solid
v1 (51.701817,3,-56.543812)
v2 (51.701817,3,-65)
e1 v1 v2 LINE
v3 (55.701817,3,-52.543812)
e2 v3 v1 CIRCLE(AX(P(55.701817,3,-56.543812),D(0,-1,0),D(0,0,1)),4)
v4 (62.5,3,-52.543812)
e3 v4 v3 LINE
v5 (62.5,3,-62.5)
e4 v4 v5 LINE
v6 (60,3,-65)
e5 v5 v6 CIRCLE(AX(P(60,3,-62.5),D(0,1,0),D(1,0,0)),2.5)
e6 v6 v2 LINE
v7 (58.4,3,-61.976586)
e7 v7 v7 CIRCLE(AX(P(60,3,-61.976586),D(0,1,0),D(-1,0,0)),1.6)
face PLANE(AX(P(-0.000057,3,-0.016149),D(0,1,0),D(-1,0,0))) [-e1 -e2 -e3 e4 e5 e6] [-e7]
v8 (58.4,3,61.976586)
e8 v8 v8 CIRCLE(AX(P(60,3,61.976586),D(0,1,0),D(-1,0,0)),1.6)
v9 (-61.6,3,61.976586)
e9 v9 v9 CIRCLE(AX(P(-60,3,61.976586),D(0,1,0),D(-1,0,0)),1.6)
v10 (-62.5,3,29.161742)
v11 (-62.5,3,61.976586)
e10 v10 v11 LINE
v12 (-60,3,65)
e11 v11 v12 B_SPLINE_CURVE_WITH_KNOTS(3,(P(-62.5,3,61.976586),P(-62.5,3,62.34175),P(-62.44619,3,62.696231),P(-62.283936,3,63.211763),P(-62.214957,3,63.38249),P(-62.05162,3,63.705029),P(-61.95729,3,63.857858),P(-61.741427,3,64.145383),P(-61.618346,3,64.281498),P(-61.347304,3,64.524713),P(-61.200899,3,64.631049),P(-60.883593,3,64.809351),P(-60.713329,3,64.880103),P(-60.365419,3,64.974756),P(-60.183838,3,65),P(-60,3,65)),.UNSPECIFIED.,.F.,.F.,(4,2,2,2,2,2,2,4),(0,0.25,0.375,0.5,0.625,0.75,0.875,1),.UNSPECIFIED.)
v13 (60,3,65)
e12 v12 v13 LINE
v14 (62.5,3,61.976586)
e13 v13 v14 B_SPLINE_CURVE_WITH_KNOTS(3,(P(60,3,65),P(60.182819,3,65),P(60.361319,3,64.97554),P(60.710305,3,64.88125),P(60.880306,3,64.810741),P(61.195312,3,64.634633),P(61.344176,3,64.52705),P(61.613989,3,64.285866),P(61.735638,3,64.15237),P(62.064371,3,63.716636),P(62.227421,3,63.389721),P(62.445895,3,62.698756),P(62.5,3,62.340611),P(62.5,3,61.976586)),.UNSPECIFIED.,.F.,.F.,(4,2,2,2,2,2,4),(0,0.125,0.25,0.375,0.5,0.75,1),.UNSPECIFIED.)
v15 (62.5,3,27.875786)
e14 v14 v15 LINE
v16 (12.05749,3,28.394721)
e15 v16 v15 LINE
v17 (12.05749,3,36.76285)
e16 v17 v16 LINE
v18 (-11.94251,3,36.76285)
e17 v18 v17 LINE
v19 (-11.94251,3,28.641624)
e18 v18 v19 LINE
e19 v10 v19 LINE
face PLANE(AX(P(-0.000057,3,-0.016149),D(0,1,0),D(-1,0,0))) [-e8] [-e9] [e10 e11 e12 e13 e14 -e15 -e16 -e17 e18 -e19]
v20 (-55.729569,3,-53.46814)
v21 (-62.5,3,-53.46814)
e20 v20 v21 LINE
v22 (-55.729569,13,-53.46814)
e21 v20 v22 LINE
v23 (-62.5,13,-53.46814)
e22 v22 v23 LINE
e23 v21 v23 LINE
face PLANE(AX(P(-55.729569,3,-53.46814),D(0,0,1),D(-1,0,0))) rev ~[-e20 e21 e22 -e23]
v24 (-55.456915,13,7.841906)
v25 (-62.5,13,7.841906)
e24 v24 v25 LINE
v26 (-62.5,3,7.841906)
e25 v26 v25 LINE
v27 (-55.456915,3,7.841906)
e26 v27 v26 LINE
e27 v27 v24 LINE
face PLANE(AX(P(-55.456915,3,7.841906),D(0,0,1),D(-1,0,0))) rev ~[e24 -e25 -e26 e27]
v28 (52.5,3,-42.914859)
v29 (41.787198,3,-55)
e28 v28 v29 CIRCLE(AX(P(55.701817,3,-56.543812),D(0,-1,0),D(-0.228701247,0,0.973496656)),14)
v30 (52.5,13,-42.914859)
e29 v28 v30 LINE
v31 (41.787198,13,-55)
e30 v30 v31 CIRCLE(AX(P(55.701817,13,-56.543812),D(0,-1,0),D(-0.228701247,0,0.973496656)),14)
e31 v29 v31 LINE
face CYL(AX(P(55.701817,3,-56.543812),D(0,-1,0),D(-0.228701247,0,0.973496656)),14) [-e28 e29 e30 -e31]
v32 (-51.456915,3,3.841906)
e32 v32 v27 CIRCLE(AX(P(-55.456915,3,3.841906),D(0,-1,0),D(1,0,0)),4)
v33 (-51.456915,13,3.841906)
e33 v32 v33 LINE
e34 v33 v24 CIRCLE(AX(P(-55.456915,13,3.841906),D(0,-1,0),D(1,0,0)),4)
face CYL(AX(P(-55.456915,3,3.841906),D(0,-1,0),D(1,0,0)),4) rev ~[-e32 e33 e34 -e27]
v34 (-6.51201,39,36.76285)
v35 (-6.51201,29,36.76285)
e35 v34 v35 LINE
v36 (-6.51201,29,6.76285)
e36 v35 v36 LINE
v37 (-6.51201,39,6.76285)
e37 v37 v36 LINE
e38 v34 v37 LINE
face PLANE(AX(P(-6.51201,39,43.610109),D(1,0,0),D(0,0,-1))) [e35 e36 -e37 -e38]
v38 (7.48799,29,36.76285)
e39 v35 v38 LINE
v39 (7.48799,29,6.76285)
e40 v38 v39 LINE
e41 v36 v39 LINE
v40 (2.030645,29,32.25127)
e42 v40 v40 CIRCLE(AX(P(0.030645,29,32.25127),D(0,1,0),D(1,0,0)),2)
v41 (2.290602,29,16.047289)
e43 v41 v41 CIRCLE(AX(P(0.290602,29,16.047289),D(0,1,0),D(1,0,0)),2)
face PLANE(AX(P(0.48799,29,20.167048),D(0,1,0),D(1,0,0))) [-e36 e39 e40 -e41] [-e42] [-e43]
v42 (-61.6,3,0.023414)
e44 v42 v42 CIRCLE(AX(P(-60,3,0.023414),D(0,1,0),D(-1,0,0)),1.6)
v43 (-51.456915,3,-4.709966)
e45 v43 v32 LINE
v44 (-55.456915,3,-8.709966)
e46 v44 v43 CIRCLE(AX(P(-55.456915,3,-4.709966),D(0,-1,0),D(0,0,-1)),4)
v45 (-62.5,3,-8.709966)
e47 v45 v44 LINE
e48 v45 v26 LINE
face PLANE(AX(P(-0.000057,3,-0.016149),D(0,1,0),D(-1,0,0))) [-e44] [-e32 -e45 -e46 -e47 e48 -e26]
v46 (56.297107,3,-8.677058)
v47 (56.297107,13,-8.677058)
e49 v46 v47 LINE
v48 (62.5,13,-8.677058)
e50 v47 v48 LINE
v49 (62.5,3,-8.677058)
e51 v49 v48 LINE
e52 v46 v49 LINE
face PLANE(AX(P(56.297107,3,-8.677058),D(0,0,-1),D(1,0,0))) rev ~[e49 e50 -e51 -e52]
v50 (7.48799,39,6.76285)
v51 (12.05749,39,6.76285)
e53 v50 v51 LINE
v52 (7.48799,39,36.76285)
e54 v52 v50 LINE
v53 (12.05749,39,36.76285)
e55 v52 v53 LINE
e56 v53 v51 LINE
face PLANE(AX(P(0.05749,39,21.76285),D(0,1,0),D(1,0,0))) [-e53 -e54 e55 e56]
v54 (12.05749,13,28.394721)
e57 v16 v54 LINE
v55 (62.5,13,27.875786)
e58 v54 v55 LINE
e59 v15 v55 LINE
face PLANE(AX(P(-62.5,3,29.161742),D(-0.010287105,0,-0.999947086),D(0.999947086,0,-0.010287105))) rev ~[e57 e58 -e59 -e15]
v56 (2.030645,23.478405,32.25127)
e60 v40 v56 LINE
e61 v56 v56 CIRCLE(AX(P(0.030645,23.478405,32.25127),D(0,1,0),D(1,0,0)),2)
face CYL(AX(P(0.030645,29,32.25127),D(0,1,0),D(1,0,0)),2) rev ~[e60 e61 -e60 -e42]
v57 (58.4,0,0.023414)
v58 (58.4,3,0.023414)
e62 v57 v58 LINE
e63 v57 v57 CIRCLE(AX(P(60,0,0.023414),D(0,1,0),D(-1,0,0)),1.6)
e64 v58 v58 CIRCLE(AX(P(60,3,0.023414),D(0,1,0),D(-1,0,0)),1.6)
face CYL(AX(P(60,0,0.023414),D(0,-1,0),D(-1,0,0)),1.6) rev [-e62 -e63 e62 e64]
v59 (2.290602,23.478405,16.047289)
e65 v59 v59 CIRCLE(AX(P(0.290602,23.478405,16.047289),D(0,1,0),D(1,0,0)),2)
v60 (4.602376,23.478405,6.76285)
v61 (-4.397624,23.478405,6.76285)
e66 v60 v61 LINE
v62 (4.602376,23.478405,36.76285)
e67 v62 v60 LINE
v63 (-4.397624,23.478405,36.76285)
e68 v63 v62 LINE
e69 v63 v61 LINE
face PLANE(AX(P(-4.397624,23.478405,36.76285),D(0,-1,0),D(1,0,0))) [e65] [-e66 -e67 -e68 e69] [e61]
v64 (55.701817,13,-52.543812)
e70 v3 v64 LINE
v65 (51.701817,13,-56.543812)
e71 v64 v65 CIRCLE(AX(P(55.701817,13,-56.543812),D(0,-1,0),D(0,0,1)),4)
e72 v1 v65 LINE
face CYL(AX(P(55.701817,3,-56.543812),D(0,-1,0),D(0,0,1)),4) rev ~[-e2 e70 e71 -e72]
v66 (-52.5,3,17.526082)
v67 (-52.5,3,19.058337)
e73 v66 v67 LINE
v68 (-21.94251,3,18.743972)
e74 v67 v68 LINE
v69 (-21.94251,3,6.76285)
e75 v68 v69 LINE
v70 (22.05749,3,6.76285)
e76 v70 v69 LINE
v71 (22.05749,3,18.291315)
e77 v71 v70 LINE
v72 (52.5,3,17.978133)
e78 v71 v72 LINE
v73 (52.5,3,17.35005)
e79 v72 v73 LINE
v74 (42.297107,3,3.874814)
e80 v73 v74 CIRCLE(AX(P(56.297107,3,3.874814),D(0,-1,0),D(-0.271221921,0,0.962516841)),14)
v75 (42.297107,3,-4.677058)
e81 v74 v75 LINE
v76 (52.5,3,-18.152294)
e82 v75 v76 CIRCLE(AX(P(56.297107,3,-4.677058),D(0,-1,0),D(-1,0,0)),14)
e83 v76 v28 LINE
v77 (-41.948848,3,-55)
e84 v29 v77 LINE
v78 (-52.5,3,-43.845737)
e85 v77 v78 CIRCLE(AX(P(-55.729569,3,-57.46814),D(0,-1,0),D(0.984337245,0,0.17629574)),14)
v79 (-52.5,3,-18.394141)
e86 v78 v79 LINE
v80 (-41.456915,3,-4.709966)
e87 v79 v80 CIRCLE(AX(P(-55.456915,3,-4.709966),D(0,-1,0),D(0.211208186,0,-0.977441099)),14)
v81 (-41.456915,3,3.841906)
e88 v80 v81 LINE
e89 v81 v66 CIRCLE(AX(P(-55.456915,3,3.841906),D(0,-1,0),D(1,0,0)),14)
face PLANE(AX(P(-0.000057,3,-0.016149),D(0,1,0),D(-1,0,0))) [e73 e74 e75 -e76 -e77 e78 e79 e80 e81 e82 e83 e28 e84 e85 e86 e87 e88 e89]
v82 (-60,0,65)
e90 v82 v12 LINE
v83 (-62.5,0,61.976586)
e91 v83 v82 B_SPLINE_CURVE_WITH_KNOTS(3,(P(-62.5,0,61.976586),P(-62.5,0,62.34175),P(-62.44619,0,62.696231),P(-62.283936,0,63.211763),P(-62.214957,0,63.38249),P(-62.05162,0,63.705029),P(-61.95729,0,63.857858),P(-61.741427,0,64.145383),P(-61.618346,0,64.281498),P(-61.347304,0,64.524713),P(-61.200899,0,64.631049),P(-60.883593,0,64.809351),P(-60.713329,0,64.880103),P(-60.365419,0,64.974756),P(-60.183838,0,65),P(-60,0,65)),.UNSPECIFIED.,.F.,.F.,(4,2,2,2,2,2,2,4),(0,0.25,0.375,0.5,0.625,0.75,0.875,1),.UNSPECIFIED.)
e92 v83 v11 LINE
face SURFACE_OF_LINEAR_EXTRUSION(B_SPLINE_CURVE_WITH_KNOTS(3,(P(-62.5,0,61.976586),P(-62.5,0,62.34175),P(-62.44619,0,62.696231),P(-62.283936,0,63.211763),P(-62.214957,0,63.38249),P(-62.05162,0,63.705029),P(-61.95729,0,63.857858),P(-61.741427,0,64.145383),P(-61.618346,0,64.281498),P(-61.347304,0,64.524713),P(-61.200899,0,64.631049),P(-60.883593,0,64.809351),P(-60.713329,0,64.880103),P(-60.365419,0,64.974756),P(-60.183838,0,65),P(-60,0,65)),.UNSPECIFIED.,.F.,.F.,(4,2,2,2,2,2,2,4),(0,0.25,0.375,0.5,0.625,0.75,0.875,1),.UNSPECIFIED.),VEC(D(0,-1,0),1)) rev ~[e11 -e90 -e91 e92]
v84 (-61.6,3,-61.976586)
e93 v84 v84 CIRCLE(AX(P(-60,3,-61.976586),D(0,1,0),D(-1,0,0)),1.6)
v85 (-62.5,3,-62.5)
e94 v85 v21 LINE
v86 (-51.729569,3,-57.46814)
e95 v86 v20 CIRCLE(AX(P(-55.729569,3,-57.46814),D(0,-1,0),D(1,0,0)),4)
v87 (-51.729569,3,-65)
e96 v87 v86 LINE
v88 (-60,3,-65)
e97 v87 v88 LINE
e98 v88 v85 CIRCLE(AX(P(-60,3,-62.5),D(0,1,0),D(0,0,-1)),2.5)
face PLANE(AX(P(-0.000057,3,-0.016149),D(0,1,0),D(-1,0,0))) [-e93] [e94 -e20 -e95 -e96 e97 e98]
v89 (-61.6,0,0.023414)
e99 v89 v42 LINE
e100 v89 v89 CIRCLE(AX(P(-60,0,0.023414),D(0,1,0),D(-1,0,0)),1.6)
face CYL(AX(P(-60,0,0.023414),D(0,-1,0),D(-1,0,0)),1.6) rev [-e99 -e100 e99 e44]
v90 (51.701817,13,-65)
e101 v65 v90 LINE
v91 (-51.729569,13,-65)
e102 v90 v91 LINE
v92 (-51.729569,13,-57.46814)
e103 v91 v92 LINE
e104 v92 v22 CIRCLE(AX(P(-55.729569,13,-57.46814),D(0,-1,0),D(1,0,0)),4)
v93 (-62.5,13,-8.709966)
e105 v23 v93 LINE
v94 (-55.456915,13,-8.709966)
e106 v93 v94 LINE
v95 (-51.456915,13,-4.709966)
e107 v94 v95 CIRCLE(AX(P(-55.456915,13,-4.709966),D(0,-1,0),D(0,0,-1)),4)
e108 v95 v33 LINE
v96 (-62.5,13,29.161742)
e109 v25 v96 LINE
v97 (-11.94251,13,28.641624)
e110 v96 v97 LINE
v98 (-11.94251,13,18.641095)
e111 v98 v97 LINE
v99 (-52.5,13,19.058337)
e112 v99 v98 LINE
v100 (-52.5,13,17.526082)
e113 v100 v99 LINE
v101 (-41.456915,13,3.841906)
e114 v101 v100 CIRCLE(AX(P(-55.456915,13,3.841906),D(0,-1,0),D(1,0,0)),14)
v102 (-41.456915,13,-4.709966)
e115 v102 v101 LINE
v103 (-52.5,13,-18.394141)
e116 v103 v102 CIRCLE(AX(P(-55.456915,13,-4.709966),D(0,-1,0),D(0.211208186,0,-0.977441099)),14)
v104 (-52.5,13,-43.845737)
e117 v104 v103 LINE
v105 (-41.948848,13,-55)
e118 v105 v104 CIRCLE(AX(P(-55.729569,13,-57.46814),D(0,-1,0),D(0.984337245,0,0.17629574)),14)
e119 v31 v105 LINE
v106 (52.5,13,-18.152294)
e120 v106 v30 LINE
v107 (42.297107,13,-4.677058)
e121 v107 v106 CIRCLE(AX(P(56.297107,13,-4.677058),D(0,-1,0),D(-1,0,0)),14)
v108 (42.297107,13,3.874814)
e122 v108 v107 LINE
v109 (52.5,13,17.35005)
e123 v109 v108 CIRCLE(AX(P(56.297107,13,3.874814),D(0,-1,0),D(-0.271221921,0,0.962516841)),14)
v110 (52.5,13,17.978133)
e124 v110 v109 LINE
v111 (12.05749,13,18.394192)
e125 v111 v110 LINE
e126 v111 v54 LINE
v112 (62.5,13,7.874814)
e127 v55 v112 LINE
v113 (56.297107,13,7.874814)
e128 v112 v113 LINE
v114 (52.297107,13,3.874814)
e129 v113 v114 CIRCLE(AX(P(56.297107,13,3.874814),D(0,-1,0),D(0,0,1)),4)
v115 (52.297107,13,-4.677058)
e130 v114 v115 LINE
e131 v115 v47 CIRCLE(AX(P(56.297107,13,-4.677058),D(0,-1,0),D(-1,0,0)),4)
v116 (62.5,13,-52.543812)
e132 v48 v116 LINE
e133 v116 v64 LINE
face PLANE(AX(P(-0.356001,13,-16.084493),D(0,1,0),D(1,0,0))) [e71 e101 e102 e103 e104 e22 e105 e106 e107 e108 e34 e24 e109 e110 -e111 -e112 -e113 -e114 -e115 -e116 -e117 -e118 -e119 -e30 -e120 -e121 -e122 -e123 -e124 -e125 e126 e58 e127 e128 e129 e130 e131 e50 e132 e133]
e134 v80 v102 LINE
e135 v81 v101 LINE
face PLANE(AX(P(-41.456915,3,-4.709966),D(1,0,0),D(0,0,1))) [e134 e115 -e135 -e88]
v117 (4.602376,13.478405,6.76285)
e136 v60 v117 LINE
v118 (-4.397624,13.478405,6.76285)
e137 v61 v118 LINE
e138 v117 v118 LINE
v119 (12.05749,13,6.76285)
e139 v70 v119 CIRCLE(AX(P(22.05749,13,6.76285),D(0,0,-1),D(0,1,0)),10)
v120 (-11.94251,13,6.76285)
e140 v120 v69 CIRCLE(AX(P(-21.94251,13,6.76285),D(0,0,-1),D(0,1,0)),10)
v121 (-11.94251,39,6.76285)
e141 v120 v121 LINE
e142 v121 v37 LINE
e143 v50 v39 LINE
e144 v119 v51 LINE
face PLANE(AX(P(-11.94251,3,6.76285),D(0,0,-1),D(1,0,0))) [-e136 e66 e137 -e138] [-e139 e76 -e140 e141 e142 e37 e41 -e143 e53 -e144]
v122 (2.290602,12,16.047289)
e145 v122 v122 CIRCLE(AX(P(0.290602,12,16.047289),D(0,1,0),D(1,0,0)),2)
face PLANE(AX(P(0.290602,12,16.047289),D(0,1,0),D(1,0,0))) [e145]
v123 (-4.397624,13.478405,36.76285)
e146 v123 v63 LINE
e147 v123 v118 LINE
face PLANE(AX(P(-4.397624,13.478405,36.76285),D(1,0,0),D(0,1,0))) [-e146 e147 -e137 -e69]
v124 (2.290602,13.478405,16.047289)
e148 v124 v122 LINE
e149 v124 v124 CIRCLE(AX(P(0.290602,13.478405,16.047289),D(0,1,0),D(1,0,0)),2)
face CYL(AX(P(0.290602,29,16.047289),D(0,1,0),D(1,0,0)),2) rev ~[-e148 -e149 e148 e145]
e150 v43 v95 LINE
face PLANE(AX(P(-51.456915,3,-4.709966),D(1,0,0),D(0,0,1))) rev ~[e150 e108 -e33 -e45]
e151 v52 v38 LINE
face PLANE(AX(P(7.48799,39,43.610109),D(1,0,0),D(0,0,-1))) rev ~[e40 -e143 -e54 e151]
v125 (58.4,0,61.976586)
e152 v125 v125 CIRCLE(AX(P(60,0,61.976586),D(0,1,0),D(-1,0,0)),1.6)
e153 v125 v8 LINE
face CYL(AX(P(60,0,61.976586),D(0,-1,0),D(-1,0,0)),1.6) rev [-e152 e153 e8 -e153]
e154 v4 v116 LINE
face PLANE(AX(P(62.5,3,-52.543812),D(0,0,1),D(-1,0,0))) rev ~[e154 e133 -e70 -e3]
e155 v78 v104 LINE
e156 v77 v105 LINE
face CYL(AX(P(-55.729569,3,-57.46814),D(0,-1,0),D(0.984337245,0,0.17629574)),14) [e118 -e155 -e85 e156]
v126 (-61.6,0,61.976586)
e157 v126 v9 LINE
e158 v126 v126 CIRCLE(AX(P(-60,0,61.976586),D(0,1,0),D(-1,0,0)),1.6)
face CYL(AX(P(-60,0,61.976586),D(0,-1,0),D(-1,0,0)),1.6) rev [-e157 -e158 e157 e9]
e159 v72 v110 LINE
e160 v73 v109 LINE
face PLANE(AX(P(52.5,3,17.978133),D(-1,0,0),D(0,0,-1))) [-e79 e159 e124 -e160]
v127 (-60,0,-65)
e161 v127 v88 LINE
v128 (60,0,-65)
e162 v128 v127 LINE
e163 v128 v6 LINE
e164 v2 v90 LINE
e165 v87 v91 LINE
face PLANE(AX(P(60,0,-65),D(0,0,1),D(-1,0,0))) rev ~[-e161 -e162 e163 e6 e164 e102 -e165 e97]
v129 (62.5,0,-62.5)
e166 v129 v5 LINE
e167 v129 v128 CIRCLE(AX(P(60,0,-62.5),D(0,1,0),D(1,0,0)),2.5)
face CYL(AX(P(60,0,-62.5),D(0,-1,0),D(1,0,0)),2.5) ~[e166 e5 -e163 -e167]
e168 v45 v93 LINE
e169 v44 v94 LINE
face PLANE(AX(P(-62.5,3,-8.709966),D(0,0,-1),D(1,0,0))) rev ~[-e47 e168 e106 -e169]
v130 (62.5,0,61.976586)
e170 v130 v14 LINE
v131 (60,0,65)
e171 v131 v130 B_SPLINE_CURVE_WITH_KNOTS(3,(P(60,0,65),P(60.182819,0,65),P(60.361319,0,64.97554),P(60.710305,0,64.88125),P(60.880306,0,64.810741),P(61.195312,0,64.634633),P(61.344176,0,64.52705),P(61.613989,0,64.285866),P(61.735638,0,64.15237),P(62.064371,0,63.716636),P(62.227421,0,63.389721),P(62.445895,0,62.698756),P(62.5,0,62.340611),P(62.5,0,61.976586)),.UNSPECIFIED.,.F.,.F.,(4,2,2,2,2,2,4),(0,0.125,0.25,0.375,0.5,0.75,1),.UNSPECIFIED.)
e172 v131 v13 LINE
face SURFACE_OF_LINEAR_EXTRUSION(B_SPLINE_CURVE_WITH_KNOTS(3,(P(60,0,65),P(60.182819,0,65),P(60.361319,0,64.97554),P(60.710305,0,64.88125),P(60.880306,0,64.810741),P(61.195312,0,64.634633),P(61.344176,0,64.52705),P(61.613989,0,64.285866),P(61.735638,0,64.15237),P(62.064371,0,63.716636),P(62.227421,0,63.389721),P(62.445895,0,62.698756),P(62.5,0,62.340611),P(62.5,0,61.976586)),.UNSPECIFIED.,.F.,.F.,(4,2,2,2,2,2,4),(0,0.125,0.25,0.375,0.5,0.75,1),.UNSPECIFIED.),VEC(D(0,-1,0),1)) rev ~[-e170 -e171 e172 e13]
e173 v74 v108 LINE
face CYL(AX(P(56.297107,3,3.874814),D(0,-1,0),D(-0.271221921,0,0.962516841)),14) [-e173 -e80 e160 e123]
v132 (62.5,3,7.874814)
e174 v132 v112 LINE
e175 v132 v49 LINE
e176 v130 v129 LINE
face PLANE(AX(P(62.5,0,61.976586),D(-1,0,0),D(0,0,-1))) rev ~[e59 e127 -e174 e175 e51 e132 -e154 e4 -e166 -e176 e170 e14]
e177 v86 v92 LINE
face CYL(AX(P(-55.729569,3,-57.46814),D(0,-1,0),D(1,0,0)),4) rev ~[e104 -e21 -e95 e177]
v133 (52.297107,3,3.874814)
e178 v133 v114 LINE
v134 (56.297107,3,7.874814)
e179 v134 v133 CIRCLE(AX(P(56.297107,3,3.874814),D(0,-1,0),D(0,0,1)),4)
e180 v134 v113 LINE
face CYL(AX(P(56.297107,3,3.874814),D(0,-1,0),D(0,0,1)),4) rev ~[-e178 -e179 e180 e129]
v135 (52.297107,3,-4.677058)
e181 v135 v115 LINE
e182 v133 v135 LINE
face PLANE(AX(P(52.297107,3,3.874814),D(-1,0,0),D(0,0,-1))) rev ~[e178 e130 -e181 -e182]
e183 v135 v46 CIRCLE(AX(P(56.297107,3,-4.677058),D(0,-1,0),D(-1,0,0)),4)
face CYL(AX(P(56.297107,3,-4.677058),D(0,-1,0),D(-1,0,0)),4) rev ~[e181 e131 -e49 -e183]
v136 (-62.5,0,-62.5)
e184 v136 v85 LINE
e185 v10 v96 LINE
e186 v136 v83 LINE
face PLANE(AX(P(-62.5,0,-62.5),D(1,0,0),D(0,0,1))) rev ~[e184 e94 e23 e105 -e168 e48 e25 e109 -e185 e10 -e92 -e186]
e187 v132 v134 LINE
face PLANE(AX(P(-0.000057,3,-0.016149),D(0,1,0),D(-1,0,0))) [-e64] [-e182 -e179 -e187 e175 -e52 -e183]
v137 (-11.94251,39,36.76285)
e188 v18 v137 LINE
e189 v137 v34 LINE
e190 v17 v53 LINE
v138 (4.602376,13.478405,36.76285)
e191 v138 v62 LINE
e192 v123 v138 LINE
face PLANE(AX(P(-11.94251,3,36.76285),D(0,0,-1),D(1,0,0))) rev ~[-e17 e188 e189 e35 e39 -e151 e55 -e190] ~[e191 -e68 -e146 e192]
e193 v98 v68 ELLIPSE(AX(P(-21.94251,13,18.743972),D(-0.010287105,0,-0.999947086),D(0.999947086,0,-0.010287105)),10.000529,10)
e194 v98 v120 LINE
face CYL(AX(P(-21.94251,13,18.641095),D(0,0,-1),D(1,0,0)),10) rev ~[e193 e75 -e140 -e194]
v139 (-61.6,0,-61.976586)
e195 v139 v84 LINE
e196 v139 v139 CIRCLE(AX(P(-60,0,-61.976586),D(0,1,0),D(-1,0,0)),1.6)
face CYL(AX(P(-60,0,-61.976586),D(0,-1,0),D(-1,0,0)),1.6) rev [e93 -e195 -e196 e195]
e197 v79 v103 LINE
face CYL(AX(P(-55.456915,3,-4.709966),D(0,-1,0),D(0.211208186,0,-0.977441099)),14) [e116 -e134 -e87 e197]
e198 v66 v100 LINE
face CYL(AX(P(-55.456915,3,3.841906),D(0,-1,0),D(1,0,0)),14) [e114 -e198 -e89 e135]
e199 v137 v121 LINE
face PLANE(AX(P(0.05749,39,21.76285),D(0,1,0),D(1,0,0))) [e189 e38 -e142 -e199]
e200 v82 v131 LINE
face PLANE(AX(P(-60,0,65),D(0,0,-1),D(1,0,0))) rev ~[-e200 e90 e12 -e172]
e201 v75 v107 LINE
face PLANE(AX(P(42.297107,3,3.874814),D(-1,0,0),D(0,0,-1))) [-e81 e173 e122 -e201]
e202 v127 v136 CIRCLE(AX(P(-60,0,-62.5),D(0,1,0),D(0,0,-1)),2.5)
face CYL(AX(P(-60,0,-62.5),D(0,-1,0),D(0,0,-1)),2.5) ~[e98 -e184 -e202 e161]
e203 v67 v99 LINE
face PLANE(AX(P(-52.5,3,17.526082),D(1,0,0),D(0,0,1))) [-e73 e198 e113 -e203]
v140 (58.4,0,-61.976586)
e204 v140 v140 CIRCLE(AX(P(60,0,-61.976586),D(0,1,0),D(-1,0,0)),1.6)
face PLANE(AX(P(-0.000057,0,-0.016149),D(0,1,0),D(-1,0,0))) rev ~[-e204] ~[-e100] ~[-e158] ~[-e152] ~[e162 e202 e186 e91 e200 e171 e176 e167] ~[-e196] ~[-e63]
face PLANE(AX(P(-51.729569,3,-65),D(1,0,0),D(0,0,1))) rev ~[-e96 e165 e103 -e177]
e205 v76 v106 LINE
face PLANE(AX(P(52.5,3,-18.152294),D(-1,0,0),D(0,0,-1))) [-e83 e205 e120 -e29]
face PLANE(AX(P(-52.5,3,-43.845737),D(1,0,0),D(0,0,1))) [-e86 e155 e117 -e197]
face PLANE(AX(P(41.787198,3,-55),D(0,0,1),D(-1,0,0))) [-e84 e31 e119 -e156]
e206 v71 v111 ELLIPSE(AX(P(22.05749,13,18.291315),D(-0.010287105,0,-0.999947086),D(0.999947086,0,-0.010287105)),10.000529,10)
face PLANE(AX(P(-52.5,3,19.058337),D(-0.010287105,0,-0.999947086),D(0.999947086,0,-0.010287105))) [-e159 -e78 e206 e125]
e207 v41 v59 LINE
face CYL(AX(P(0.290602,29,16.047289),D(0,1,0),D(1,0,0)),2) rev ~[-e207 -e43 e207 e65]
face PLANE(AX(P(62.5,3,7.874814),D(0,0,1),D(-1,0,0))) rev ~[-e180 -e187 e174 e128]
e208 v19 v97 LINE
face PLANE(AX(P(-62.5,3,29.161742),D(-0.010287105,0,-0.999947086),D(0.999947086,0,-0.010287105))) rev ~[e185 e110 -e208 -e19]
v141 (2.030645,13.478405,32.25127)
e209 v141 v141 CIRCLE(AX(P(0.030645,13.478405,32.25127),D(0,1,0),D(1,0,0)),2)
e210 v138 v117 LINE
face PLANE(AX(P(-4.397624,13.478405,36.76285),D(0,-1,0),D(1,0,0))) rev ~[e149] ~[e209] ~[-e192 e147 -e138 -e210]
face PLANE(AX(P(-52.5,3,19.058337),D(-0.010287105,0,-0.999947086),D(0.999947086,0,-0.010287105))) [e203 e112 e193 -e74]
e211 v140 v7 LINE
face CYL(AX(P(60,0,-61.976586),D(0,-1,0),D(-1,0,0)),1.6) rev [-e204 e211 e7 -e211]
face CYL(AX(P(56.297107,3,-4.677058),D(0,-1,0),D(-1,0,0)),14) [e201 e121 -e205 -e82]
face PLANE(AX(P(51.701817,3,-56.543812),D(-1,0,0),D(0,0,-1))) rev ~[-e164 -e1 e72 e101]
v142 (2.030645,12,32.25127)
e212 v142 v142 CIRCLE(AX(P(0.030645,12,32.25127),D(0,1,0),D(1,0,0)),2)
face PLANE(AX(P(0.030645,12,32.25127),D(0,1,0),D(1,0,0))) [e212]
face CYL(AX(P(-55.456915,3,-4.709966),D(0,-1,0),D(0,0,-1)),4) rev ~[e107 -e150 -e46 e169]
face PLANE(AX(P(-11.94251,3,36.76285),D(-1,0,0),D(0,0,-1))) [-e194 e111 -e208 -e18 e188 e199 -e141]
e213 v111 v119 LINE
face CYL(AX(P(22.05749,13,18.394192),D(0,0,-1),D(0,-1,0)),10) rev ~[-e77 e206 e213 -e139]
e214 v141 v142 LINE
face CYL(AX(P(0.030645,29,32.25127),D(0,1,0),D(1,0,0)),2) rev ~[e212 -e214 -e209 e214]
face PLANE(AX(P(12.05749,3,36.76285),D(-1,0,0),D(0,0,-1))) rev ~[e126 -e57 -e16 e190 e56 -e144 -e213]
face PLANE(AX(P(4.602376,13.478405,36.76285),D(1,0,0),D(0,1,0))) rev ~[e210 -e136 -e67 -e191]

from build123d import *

# Parameters (mm, degrees)
SKETCH1_R           = 1.6
BOSS_EXTRUDE1_DEPTH = 3
BOSS_EXTRUDE2_DEPTH = 10
SKETCH4_W           = 24
SKETCH4_H           = 30
BOSS_EXTRUDE3_DEPTH = 36
SKETCH5_W           = 14
SKETCH5_H           = 46.886122037
CUT_EXTRUDE1_DEPTH  = 10
FILLET1_R           = 10
SKETCH6_R           = 2
CUT_EXTRUDE2_DEPTH  = 17
SKETCH7_W           = 9
SKETCH7_H           = 10
CUT_EXTRUDE3_DEPTH  = 43


with BuildPart() as part:
    # Sketch1 → Boss-Extrude1 (new body)
    with BuildSketch(Plane(origin=(0, 0, 0), x_dir=(-1, 0, 0), z_dir=(0, 1, 0))):
        with BuildLine():
            Line((60, 65), (-60, 65))
            add(Edge.make_bspline(
                [(-60, 65), (-60.182819281, 65), (-60.361318877, 64.975540463), (-60.710305196, 64.881249752), (-60.880306062, 64.810741327), (-61.195311527, 64.634632862), (-61.344175944, 64.527049534), (-61.613989028, 64.285865538), (-61.735638417, 64.152370239), (-62.06437147, 63.716635859), (-62.227421468, 63.389720941), (-62.445894576, 62.69875639), (-62.5, 62.340611149), (-62.5, 61.976586008)],
                knots=[0, 0, 0, 0, 0.125, 0.125, 0.25, 0.25, 0.375, 0.375, 0.5, 0.5, 0.75, 0.75, 1, 1, 1, 1], degree=3))
            Line((-62.5, 61.976586008), (-62.5, -62.5))
            ThreePointArc((-62.5, -62.5), (-61.767766953, -64.267766953), (-60, -65))
            Line((-60, -65), (60, -65))
            ThreePointArc((60, -65), (61.767766953, -64.267766953), (62.5, -62.5))
            Line((62.5, -62.5), (62.5, 61.976586008))
            add(Edge.make_bspline(
                [(62.5, 61.976586008), (62.5, 62.34175037), (62.44618995, 62.696231112), (62.283935978, 63.211763232), (62.214956517, 63.382489596), (62.051620496, 63.705029242), (61.957290328, 63.857858356), (61.741427498, 64.145383151), (61.618346212, 64.281498062), (61.347304427, 64.524712758), (61.20089923, 64.631048566), (60.883593427, 64.80935119), (60.713329195, 64.880102966), (60.36541887, 64.974755775), (60.183838083, 65), (60, 65)],
                knots=[0, 0, 0, 0, 0.25, 0.25, 0.375, 0.375, 0.5, 0.5, 0.625, 0.625, 0.75, 0.75, 0.875, 0.875, 1, 1, 1, 1], degree=3))
        make_face()
        with Locations((60, 61.976586008)):
            Circle(SKETCH1_R, mode=Mode.SUBTRACT)
        with Locations((-60, 61.976586008)):
            Circle(SKETCH1_R, mode=Mode.SUBTRACT)
        with Locations((-60, 0.023413992)):
            Circle(SKETCH1_R, mode=Mode.SUBTRACT)
        with Locations((60, 0.023413992)):
            Circle(SKETCH1_R, mode=Mode.SUBTRACT)
        with Locations((-60, -61.976586008)):
            Circle(SKETCH1_R, mode=Mode.SUBTRACT)
        with Locations((60, -61.976586008)):
            Circle(SKETCH1_R, mode=Mode.SUBTRACT)
    extrude(amount=BOSS_EXTRUDE1_DEPTH)

    # Sketch2 → Boss-Extrude2 (add)
    with BuildSketch(Plane(origin=(0, 3, 0), x_dir=(1, 0, 0), z_dir=(0, 1, 0))):
        with BuildLine():
            Line((-62.5, -29.161742213), (62.5, -27.875786008))
            Line((62.5, -27.875786008), (62.5, -7.87481403))
            Line((62.5, -7.87481403), (56.297106888, -7.87481403))
            ThreePointArc((56.297106888, -7.87481403), (53.468679763, -6.703241155), (52.297106888, -3.87481403))
            Line((52.297106888, -3.87481403), (52.297106888, 4.677057962))
            ThreePointArc((52.297106888, 4.677057962), (53.468679763, 7.505485087), (56.297106888, 8.677057962))
            Line((56.297106888, 8.677057962), (62.5, 8.677057962))
            Line((62.5, 8.677057962), (62.5, 52.543812316))
            Line((62.5, 52.543812316), (55.701817461, 52.543812316))
            ThreePointArc((55.701817461, 52.543812316), (52.873390337, 53.715385191), (51.701817461, 56.543812316))
            Line((51.701817461, 56.543812316), (51.701817461, 65))
            Line((51.701817461, 65), (-51.729569497, 65))
            Line((-51.729569497, 65), (-51.729569497, 57.468140355))
            ThreePointArc((-51.729569497, 57.468140355), (-52.901142372, 54.63971323), (-55.729569497, 53.468140355))
            Line((-55.729569497, 53.468140355), (-62.5, 53.468140355))
            Line((-62.5, 53.468140355), (-62.5, 8.709965682))
            Line((-62.5, 8.709965682), (-55.456914608, 8.709965682))
            ThreePointArc((-55.456914608, 8.709965682), (-52.628487483, 7.538392807), (-51.456914608, 4.709965682))
            Line((-51.456914608, 4.709965682), (-51.456914608, -3.84190631))
            ThreePointArc((-51.456914608, -3.84190631), (-52.628487483, -6.670333435), (-55.456914608, -7.84190631))
            Line((-55.456914608, -7.84190631), (-62.5, -7.84190631))
            Line((-62.5, -7.84190631), (-62.5, -29.161742213))
        make_face()
        with BuildLine():
            Line((-52.5, -19.058336552), (52.5, -17.97813334))
            Line((52.5, -17.97813334), (52.5, -17.350049809))
            ThreePointArc((52.5, -17.350049809), (45.135577055, -12.325864367), (42.297106888, -3.87481403))
            Line((42.297106888, -3.87481403), (42.297106888, 4.677057962))
            ThreePointArc((42.297106888, 4.677057962), (45.135577055, 13.128108299), (52.5, 18.152293741))
            Line((52.5, 18.152293741), (52.5, 42.91485913))
            ThreePointArc((52.5, 42.91485913), (45.225378973, 47.257034801), (41.787197684, 55))
            Line((41.787197684, 55), (-41.948848065, 55))
            ThreePointArc((-41.948848065, 55), (-45.558930544, 47.847428152), (-52.5, 43.845736717))
            Line((-52.5, 43.845736717), (-52.5, 18.394141068))
            ThreePointArc((-52.5, 18.394141068), (-44.562034973, 13.502098401), (-41.456914608, 4.709965682))
            Line((-41.456914608, 4.709965682), (-41.456914608, -3.84190631))
            ThreePointArc((-41.456914608, -3.84190631), (-44.562034973, -12.634039029), (-52.5, -17.526081697))
            Line((-52.5, -17.526081697), (-52.5, -19.058336552))
        make_face(mode=Mode.SUBTRACT)
    extrude(amount=BOSS_EXTRUDE2_DEPTH)

    # Sketch4 → Boss-Extrude3 (add)
    with BuildSketch(Plane(origin=(0, 3, 0), x_dir=(1, 0, 0), z_dir=(0, 1, 0))):
        with Locations((0.057489953, -21.76285015)):
            Rectangle(SKETCH4_W, SKETCH4_H)
    extrude(amount=BOSS_EXTRUDE3_DEPTH)

    # Sketch5 → Cut-Extrude1 (cut)
    with BuildSketch(Plane(origin=(0, 39, 0), x_dir=(1, 0, 0), z_dir=(0, 1, 0))):
        with Locations((0.487990249, -20.167047514)):
            Rectangle(SKETCH5_W, SKETCH5_H)
    extrude(amount=-CUT_EXTRUDE1_DEPTH, mode=Mode.SUBTRACT)

    # Fillet1
    fillet1_edges = [part.edges().sort_by_distance(p)[0] for p in [
        (12.057489953, 3, 12.578520932),
        (-11.942510047, 3, 12.701972727),
    ]]
    fillet(fillet1_edges, radius=FILLET1_R)

    # Sketch6 → Cut-Extrude2 (cut)
    with BuildSketch(Plane(origin=(0, 29, 0), x_dir=(1, 0, 0), z_dir=(0, 1, 0))):
        with Locations((0.290601946, -16.047289156)):
            Circle(SKETCH6_R)
        with Locations((0.030645041, -32.251269585)):
            Circle(SKETCH6_R)
    extrude(amount=-CUT_EXTRUDE2_DEPTH, mode=Mode.SUBTRACT)

    # Sketch7 → Cut-Extrude3 (cut)
    with BuildSketch(Plane.XY.offset(36.76285015)):
        with Locations((0.102375744, 18.47840537)):
            Rectangle(SKETCH7_W, SKETCH7_H)
    extrude(amount=-CUT_EXTRUDE3_DEPTH, mode=Mode.SUBTRACT)


solid = part.part
